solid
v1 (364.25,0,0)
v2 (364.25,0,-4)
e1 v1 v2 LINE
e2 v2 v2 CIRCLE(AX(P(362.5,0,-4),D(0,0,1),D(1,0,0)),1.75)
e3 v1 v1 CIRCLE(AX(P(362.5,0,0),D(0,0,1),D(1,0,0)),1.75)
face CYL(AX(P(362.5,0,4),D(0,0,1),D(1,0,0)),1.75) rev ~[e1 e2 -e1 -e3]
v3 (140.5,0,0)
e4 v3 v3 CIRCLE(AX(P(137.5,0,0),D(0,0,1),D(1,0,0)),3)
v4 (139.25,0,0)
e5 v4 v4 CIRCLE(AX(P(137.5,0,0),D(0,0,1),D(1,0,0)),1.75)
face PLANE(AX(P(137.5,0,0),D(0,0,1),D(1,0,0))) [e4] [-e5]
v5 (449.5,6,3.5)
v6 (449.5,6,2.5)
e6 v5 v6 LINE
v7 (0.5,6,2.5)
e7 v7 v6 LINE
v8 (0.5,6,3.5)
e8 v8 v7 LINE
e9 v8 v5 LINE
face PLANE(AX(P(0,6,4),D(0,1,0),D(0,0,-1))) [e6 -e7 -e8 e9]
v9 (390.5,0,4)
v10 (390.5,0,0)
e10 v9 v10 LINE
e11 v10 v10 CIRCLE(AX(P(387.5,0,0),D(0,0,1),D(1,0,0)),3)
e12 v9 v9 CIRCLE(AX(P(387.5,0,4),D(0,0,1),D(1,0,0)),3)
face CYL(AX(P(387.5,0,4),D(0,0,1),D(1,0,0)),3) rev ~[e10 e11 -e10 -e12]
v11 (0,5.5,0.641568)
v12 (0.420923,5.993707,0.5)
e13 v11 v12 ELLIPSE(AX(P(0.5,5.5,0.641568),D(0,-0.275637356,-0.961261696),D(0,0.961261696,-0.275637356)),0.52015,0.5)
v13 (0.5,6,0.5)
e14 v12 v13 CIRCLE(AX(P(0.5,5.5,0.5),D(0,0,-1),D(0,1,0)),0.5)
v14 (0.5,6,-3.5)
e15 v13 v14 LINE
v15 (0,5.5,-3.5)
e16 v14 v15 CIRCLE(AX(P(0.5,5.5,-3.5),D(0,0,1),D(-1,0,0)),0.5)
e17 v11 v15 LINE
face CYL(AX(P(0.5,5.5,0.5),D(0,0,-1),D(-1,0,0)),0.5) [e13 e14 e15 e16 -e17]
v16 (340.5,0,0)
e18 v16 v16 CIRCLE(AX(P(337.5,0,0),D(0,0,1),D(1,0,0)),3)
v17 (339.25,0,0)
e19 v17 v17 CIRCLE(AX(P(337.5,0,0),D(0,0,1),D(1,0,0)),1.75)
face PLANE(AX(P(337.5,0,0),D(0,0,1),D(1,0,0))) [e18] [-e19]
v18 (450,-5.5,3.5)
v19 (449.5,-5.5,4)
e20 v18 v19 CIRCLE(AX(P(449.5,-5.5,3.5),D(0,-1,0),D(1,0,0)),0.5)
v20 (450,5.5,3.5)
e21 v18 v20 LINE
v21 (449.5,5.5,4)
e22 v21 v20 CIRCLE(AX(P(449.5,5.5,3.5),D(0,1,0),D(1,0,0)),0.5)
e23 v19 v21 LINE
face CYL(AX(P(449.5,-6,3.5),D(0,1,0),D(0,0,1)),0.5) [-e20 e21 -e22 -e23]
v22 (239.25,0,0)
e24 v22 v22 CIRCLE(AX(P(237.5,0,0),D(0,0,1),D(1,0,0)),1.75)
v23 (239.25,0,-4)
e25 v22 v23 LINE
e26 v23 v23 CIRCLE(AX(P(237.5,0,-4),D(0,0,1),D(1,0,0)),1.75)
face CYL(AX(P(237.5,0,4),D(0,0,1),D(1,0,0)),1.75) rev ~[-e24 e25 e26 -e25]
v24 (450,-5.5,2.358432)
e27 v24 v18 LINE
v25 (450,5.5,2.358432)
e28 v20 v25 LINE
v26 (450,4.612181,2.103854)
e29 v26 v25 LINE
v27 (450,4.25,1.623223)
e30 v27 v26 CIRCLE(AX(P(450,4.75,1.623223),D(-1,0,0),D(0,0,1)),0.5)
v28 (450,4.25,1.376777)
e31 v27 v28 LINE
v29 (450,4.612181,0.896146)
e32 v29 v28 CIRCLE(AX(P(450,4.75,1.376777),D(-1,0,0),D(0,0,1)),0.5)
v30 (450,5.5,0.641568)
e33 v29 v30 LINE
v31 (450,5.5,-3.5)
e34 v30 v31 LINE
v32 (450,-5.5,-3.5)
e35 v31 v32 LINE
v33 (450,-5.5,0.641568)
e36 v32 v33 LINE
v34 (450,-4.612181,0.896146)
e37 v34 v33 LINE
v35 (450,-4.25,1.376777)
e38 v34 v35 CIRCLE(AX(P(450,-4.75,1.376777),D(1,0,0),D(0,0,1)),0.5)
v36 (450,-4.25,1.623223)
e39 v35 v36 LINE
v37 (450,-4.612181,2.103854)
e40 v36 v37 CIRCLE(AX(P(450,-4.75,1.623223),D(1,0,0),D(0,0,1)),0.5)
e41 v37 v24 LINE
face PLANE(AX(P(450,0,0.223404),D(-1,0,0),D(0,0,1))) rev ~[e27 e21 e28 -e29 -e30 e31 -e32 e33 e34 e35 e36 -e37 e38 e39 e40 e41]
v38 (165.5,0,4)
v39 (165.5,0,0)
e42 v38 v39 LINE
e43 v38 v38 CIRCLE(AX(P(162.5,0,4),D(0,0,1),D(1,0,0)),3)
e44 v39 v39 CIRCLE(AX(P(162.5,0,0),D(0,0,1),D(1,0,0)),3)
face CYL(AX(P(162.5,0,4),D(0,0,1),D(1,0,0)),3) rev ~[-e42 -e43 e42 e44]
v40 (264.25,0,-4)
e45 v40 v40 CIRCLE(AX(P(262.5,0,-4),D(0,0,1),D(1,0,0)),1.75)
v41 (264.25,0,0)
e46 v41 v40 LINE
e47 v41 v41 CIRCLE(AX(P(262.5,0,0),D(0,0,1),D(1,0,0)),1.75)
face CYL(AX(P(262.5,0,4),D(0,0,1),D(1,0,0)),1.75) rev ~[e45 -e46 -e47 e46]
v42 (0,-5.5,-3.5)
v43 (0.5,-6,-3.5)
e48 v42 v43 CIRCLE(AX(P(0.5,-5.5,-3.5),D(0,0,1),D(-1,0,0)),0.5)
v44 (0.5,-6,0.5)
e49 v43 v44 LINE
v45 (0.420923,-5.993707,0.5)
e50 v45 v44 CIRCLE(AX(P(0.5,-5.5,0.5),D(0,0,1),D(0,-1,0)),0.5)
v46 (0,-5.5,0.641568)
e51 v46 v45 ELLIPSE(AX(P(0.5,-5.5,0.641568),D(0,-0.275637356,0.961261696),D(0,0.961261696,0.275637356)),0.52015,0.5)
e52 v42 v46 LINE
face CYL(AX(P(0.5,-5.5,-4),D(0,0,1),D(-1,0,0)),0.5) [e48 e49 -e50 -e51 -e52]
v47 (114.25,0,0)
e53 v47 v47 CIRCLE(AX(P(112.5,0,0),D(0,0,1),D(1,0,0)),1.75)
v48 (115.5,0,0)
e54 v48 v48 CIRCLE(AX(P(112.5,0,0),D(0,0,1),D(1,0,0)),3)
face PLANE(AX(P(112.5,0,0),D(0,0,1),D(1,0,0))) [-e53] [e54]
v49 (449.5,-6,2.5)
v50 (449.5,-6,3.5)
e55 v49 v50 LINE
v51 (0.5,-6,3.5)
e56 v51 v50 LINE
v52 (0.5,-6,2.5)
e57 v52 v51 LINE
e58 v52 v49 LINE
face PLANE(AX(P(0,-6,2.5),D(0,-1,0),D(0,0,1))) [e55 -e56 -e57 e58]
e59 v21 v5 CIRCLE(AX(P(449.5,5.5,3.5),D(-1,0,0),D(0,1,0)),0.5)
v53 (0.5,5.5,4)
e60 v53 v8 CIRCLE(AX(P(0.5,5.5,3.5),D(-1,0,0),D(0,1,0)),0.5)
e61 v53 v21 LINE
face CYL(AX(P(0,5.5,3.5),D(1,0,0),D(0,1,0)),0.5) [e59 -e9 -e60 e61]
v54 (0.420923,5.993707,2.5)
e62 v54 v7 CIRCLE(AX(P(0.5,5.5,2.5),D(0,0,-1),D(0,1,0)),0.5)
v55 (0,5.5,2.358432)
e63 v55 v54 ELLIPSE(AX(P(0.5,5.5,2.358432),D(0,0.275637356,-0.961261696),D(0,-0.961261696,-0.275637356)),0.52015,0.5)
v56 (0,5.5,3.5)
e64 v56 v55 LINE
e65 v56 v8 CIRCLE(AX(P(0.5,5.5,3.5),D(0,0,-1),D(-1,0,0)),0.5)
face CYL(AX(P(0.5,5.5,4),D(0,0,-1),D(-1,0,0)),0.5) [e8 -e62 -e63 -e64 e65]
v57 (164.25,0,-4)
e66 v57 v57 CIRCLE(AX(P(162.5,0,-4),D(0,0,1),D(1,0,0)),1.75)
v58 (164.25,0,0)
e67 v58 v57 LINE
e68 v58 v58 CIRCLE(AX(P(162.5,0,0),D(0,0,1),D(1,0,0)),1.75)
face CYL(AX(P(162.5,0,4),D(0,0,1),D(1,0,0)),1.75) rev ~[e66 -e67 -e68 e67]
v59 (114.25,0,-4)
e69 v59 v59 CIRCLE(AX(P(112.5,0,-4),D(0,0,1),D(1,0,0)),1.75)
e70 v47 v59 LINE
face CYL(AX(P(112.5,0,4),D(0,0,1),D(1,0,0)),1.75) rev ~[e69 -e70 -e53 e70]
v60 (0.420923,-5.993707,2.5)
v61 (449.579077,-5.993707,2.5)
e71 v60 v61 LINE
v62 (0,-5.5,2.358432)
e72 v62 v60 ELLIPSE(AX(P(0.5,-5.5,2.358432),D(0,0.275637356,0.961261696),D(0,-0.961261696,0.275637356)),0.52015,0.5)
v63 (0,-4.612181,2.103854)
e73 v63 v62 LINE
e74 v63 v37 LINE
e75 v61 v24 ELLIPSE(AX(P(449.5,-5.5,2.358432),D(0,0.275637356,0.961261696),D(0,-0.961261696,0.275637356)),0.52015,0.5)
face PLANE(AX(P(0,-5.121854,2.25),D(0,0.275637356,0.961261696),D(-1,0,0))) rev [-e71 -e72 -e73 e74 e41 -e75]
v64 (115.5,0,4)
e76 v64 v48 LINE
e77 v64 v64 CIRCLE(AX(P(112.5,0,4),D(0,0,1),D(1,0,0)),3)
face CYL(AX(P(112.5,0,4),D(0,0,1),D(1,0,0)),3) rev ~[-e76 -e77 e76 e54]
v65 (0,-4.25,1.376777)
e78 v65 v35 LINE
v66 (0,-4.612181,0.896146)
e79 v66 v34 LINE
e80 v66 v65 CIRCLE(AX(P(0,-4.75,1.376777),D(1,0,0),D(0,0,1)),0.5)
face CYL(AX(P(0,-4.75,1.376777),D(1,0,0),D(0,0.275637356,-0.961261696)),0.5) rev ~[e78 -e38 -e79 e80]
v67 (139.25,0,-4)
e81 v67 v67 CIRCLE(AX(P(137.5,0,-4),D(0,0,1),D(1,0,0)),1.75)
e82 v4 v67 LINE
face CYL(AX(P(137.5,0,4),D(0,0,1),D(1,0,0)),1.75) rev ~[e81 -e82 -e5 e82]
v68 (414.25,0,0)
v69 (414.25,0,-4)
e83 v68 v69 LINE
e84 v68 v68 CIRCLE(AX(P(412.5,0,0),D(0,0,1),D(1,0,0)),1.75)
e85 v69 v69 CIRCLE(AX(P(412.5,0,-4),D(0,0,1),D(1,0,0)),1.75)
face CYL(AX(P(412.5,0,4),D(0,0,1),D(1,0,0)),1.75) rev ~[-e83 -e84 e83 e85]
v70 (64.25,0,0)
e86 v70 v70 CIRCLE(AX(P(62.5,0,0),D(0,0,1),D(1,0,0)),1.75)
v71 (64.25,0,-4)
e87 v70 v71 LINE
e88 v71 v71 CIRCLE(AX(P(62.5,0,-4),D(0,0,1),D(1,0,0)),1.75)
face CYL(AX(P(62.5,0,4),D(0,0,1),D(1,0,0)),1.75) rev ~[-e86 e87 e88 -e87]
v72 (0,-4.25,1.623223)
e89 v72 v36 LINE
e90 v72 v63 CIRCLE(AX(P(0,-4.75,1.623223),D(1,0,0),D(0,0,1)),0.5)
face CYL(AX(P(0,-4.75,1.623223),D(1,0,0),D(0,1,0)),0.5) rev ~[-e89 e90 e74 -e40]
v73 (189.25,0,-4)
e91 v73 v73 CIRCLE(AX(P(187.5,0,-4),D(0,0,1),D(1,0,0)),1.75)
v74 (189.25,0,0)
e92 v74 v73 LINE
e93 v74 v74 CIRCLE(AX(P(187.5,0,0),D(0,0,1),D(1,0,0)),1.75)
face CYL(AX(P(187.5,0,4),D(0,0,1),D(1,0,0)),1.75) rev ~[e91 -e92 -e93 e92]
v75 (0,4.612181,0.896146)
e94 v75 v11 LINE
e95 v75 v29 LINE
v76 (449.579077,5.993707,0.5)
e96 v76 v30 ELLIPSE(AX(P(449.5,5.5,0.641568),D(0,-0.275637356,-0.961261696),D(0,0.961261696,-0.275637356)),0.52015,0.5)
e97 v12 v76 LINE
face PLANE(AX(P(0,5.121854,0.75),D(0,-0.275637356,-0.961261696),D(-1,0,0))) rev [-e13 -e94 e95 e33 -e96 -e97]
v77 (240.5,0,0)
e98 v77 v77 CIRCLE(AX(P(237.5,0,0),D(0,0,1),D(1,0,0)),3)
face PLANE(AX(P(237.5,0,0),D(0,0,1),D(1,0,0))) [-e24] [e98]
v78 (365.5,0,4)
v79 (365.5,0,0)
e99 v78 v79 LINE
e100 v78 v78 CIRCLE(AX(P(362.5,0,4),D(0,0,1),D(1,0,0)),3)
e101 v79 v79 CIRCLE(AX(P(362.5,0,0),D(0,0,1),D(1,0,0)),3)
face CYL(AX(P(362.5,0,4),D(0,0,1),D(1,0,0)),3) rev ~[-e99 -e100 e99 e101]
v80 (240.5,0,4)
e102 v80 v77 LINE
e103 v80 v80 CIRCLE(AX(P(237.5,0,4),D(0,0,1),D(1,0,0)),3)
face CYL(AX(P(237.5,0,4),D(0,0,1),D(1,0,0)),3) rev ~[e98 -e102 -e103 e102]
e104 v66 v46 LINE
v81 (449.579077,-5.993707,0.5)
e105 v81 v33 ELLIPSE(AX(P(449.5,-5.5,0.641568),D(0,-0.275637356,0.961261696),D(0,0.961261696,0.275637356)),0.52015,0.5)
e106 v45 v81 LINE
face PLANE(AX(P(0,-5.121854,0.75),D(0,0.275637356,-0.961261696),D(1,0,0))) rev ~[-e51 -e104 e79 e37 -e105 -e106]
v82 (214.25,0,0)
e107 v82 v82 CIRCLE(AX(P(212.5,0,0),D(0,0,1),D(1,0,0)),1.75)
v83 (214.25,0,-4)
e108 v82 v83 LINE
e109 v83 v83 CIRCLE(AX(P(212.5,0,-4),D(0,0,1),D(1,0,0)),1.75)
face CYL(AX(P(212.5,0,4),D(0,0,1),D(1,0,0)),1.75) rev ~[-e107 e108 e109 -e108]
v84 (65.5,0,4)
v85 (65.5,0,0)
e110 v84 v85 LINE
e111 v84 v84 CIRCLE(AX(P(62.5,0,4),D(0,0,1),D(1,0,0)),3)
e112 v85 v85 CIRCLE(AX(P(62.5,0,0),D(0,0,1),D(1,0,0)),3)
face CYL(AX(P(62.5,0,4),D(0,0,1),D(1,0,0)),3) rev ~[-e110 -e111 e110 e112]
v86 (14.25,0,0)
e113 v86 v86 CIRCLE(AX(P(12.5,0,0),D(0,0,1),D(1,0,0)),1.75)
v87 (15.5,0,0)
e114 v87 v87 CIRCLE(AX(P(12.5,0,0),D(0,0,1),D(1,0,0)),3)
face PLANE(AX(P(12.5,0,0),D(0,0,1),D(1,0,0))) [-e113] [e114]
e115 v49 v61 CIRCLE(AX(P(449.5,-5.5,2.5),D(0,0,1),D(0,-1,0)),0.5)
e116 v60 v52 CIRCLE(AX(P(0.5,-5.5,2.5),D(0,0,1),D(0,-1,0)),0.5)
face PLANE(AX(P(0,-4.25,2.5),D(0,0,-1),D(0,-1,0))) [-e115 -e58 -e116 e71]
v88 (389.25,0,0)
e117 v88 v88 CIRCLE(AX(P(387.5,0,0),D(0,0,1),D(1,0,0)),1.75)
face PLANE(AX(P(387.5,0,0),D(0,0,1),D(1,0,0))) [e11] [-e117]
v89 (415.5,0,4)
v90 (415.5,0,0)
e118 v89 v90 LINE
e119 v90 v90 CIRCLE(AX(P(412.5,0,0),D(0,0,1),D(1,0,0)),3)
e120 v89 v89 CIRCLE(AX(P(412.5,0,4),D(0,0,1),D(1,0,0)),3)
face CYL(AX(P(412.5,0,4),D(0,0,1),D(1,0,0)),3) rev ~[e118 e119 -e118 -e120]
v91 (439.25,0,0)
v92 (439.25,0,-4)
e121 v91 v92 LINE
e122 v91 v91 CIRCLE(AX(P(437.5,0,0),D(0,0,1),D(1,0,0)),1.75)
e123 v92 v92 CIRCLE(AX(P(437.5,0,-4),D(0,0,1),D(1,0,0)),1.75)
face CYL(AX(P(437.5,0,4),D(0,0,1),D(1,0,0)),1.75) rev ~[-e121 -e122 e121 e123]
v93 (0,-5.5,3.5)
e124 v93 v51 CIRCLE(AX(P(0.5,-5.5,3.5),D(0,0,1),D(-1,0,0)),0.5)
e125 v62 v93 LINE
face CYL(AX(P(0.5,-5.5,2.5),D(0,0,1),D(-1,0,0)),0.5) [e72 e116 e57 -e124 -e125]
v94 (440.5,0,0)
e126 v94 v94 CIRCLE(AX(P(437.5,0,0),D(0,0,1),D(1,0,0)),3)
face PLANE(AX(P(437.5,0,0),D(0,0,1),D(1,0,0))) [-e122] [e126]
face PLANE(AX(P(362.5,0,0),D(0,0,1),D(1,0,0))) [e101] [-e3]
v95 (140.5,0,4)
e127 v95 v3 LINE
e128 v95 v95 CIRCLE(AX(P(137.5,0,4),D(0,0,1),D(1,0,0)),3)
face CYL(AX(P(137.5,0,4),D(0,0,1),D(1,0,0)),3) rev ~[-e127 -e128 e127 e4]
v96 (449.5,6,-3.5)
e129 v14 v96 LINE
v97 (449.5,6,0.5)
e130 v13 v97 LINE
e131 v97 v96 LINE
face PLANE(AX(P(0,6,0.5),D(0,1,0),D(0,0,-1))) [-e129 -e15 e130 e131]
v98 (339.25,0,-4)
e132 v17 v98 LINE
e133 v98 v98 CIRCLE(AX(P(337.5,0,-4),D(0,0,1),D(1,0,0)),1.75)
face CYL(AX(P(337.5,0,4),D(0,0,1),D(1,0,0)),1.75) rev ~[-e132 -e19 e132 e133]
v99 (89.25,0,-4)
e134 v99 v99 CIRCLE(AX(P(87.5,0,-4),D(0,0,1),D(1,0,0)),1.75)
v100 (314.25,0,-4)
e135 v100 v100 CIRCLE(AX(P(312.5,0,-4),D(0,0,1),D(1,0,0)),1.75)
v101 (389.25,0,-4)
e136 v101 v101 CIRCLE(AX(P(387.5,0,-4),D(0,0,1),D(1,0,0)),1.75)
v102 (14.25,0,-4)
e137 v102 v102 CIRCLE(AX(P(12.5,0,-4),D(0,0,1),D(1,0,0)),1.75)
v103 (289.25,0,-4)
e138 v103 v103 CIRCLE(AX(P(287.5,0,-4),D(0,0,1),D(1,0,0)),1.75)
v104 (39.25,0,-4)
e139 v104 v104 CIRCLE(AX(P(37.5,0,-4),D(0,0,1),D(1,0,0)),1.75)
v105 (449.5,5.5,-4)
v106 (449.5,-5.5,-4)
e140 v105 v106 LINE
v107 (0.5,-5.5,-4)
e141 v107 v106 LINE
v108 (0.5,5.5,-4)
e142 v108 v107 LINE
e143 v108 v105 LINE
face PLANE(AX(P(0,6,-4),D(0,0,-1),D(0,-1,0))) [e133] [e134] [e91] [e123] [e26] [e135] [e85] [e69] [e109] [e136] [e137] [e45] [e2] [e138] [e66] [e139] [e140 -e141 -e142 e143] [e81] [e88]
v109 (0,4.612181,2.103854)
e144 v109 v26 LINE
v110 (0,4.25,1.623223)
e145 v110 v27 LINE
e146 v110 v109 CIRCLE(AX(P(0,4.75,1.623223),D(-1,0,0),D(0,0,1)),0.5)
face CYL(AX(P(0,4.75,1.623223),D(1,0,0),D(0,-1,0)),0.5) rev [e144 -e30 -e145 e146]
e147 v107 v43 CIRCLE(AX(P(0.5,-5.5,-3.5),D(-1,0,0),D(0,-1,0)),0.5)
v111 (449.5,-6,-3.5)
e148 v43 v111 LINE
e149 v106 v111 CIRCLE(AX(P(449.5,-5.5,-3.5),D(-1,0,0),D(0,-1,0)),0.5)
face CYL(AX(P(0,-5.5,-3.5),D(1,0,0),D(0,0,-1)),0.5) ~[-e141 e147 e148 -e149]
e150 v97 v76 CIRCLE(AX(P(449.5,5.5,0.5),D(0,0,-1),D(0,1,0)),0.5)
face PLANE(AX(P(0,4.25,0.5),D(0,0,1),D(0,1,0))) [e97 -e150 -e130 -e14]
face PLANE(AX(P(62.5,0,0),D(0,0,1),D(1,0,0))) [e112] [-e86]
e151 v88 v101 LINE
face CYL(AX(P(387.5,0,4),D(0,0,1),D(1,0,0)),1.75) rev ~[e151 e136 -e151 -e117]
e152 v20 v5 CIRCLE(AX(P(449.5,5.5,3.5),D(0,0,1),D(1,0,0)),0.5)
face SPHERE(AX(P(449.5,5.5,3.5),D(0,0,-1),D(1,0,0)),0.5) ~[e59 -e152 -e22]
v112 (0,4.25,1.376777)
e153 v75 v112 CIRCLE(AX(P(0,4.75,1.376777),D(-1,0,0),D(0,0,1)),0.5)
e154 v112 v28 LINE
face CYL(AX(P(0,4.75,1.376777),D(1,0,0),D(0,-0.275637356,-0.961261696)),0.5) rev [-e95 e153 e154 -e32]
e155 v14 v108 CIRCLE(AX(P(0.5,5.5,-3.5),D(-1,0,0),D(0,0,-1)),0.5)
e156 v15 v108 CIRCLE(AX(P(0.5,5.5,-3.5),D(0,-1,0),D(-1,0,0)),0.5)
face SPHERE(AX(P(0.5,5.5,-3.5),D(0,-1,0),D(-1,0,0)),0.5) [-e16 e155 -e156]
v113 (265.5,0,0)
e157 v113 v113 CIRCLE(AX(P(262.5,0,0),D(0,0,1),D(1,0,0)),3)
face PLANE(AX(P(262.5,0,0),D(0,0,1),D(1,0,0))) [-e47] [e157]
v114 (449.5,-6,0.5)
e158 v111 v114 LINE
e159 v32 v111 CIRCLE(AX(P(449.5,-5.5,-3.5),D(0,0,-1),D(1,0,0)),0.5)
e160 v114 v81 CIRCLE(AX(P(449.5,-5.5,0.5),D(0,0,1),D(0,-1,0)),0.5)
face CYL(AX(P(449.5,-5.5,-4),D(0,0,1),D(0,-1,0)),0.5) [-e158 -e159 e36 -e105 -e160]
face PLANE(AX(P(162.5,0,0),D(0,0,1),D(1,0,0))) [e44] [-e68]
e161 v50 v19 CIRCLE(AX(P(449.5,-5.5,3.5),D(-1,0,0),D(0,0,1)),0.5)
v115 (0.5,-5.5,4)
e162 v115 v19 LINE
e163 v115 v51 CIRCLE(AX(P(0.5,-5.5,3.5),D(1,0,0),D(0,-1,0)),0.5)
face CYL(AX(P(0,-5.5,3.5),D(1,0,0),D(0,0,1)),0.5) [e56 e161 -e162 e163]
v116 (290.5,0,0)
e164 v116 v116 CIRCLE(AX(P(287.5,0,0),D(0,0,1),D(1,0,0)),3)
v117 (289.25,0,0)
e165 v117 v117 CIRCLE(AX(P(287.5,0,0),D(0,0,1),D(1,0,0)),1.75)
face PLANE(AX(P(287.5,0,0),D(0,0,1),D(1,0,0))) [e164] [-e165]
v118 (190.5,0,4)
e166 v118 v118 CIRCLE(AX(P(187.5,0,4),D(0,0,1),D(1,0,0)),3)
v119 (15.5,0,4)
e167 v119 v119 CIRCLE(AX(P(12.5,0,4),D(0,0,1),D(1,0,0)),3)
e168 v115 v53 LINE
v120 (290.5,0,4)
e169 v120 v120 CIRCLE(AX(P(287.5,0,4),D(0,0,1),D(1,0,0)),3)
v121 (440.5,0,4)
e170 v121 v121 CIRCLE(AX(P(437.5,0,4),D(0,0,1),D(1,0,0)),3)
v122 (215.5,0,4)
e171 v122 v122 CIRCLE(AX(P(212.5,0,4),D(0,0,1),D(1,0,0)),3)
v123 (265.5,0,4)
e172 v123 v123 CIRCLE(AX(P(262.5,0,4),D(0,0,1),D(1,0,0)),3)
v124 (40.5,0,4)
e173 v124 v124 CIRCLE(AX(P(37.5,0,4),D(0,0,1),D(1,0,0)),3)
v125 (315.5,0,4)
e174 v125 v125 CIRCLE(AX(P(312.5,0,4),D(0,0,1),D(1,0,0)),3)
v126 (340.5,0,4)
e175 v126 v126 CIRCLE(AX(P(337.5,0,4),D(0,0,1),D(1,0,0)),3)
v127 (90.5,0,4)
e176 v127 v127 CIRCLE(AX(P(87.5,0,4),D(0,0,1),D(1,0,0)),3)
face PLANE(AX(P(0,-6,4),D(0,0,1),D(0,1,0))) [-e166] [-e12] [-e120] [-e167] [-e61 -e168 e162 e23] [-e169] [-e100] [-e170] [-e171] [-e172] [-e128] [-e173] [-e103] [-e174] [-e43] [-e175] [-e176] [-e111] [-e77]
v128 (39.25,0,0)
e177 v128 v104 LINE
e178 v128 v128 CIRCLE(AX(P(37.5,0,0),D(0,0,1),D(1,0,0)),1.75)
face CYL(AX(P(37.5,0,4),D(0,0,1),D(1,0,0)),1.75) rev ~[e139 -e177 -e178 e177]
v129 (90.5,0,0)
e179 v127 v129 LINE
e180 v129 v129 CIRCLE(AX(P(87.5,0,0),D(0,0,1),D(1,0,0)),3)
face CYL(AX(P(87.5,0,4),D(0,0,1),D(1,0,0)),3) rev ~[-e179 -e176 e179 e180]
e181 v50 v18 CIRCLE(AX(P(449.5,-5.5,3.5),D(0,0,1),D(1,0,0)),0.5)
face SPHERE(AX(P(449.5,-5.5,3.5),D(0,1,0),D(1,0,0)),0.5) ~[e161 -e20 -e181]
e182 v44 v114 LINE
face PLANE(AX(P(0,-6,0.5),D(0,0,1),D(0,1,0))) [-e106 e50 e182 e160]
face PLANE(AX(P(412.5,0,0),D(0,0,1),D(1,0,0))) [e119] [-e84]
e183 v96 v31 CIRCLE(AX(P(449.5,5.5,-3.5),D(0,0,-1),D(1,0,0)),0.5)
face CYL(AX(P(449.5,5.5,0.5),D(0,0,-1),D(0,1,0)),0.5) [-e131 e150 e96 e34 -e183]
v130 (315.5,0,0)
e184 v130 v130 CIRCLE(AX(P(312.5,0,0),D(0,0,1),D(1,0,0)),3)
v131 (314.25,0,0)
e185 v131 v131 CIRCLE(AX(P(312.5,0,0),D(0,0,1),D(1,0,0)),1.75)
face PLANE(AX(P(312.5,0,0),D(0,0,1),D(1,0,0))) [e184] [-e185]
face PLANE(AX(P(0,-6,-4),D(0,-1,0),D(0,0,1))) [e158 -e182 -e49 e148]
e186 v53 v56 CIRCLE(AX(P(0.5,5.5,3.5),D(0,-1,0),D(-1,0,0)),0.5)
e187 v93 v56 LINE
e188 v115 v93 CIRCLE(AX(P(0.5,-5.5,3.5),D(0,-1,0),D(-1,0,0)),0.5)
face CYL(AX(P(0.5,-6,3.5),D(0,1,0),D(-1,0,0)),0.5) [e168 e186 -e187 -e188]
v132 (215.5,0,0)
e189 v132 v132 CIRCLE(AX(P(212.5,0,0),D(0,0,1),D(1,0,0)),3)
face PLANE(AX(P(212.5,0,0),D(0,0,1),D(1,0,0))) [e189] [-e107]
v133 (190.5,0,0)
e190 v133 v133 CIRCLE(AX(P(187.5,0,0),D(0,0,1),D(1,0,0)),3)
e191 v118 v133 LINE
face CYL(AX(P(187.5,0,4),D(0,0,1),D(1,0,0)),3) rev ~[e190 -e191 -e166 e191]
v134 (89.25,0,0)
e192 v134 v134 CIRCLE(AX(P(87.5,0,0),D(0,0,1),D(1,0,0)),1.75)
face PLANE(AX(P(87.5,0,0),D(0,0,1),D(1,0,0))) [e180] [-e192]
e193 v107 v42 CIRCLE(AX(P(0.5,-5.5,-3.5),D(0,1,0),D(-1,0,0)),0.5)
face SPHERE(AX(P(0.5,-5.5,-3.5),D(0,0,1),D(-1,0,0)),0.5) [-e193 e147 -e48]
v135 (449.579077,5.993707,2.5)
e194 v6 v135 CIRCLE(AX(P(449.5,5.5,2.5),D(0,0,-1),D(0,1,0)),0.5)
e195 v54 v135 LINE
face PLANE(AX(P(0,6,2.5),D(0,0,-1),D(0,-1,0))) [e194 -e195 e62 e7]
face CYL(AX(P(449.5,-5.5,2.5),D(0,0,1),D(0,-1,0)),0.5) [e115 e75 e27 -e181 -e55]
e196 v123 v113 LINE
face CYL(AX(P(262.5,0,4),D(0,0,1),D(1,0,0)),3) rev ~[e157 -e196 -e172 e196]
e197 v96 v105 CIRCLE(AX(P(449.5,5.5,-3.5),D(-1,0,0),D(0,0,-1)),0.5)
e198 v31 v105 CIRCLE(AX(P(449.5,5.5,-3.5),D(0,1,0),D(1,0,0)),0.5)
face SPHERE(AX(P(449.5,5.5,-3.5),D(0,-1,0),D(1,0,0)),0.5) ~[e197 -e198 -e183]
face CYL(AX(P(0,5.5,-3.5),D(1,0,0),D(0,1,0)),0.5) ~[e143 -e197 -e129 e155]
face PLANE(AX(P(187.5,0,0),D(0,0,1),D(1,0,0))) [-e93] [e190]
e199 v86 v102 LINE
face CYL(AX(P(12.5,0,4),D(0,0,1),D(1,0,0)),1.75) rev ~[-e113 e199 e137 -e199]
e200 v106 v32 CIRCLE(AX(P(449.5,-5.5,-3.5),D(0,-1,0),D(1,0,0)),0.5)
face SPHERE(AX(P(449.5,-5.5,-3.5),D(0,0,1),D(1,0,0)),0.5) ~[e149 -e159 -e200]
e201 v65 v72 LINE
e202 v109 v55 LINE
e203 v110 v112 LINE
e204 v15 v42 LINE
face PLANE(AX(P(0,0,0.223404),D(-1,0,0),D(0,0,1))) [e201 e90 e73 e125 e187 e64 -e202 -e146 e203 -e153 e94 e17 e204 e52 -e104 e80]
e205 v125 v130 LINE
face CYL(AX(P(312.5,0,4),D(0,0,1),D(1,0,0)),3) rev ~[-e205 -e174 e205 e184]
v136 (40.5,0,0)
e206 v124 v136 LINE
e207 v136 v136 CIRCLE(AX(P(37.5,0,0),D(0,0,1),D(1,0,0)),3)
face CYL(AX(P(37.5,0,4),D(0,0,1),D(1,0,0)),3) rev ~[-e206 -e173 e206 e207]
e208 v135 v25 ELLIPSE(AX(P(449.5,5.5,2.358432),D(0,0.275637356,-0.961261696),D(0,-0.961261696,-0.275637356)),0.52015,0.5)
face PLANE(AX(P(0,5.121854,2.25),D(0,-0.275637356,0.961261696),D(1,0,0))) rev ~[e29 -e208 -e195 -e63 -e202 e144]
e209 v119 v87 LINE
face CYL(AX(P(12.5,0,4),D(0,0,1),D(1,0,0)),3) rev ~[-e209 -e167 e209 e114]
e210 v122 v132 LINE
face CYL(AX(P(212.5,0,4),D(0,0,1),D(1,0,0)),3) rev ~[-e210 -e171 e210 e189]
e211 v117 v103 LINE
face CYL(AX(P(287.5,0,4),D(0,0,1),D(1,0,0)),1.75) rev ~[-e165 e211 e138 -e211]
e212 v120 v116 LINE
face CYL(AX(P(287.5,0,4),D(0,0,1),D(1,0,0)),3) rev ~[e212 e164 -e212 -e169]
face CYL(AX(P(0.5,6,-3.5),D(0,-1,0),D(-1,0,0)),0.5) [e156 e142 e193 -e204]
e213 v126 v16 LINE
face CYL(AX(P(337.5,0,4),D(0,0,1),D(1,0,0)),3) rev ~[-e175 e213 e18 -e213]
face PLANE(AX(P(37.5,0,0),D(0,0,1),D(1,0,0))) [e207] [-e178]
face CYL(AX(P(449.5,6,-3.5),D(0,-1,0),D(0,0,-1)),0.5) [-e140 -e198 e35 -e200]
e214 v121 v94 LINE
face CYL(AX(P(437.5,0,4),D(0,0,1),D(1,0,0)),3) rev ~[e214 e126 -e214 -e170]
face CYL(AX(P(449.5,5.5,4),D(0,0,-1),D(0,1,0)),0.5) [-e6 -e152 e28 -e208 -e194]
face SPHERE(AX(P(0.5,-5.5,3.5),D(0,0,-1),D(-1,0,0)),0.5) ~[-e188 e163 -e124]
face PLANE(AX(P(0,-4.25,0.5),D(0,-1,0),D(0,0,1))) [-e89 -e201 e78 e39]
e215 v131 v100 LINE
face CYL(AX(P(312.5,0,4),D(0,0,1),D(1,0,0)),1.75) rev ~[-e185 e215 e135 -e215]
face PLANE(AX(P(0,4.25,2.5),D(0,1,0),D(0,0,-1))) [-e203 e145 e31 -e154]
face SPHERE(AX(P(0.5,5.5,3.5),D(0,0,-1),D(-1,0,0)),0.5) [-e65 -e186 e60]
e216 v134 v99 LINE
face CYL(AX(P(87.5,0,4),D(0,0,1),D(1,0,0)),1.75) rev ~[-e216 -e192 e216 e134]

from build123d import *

# Parameters (mm, degrees)
BOSS_EXTRUDE1_DEPTH   = 450
SKETCH2_R             = 1.75
CUT_EXTRUDE1_DEPTH    = 10
SKETCH3_R             = 3
CUT_EXTRUDE2_DEPTH    = 4
CHAMFER1_SIZE         = 0.5
CHAMFER1_SIZE2        = 1.743707222
CHAMFER1_PART_2_SIZE  = 0.5
CHAMFER1_PART_2_SIZE2 = 1.743707222
FILLET1_R             = 0.5


with BuildPart() as part:
    # Sketch1 → Boss-Extrude1 (new body)
    with BuildSketch(Plane(origin=(0, 0, 0), x_dir=(0, 0, -1), z_dir=(1, 0, 0))):
        Polygon((-0.5, 6), (4, 6), (4, -6), (-0.5, -6), (-0.5, -4.25), (-2.5, -4.25), (-2.5, -6), (-4, -6), (-4, 6), (-2.5, 6), (-2.5, 4.25), (-0.5, 4.25), align=None)
    extrude(amount=BOSS_EXTRUDE1_DEPTH)

    # Sketch2 → Cut-Extrude1 (cut)
    with BuildSketch(Plane.XY.offset(4)):
        with Locations((12.5, 0)):
            Circle(SKETCH2_R)
        with Locations((37.5, 0)):
            Circle(SKETCH2_R)
        with Locations((62.5, 0)):
            Circle(SKETCH2_R)
        with Locations((87.5, 0)):
            Circle(SKETCH2_R)
        with Locations((112.5, 0)):
            Circle(SKETCH2_R)
        with Locations((137.5, 0)):
            Circle(SKETCH2_R)
        with Locations((162.5, 0)):
            Circle(SKETCH2_R)
        with Locations((187.5, 0)):
            Circle(SKETCH2_R)
        with Locations((212.5, 0)):
            Circle(SKETCH2_R)
        with Locations((237.5, 0)):
            Circle(SKETCH2_R)
        with Locations((262.5, 0)):
            Circle(SKETCH2_R)
        with Locations((287.5, 0)):
            Circle(SKETCH2_R)
        with Locations((312.5, 0)):
            Circle(SKETCH2_R)
        with Locations((337.5, 0)):
            Circle(SKETCH2_R)
        with Locations((362.5, 0)):
            Circle(SKETCH2_R)
        with Locations((387.5, 0)):
            Circle(SKETCH2_R)
        with Locations((412.5, 0)):
            Circle(SKETCH2_R)
        with Locations((437.5, 0)):
            Circle(SKETCH2_R)
    extrude(amount=-CUT_EXTRUDE1_DEPTH, mode=Mode.SUBTRACT)

    # Sketch3 → Cut-Extrude2 (cut)
    with BuildSketch(Plane.XY.offset(4)):
        with Locations((12.5, 0)):
            Circle(SKETCH3_R)
        with Locations((37.5, 0)):
            Circle(SKETCH3_R)
        with Locations((62.5, 0)):
            Circle(SKETCH3_R)
        with Locations((87.5, 0)):
            Circle(SKETCH3_R)
        with Locations((112.5, 0)):
            Circle(SKETCH3_R)
        with Locations((137.5, 0)):
            Circle(SKETCH3_R)
        with Locations((162.5, 0)):
            Circle(SKETCH3_R)
        with Locations((187.5, 0)):
            Circle(SKETCH3_R)
        with Locations((212.5, 0)):
            Circle(SKETCH3_R)
        with Locations((237.5, 0)):
            Circle(SKETCH3_R)
        with Locations((262.5, 0)):
            Circle(SKETCH3_R)
        with Locations((287.5, 0)):
            Circle(SKETCH3_R)
        with Locations((312.5, 0)):
            Circle(SKETCH3_R)
        with Locations((337.5, 0)):
            Circle(SKETCH3_R)
        with Locations((362.5, 0)):
            Circle(SKETCH3_R)
        with Locations((387.5, 0)):
            Circle(SKETCH3_R)
        with Locations((412.5, 0)):
            Circle(SKETCH3_R)
        with Locations((437.5, 0)):
            Circle(SKETCH3_R)
    extrude(amount=-CUT_EXTRUDE2_DEPTH, mode=Mode.SUBTRACT)

    # Chamfer1
    chamfer1_edges = [part.edges().sort_by_distance(p)[0] for p in [
        (225, -4.25, 0.5),
        (225, -4.25, 2.5),
    ]]
    chamfer1_side = [part.faces().sort_by_distance(p)[0] for p in [
        (225, -4.25, 1.5),
    ]]
    chamfer(chamfer1_edges, length=CHAMFER1_SIZE, length2=CHAMFER1_SIZE2, reference=chamfer1_side[0])

    # Chamfer1 part 2
    chamfer1_part_2_edges = [part.edges().sort_by_distance(p)[0] for p in [
        (225, 4.25, 2.5),
        (225, 4.25, 0.5),
    ]]
    chamfer1_part_2_side = [part.faces().sort_by_distance(p)[0] for p in [
        (225, 4.25, 1.5),
    ]]
    chamfer(chamfer1_part_2_edges, length=CHAMFER1_PART_2_SIZE, length2=CHAMFER1_PART_2_SIZE2, reference=chamfer1_part_2_side[0])

    # Fillet1
    fillet1_edges = [part.edges().sort_by_distance(p)[0] for p in [
        (450, -6, -1.75),
        (450, 0, -4),
        (450, 6, -1.75),
        (450, 6, 3.25),
        (450, 0, 4),
        (450, -6, 3.25),
        (0, -6, 3.25),
        (0, -6, -1.75),
        (0, 0, -4),
        (0, 6, -1.75),
        (0, 6, 3.25),
        (0, 0, 4),
        (225, -4.25, 1),
        (225, -4.25, 2),
        (225, 4.25, 2),
        (225, 4.25, 1),
        (225, -6, 4),
        (225, 6, 4),
        (225, -6, -4),
        (225, 6, -4),
    ]]
    fillet(fillet1_edges, radius=FILLET1_R)


solid = part.part
